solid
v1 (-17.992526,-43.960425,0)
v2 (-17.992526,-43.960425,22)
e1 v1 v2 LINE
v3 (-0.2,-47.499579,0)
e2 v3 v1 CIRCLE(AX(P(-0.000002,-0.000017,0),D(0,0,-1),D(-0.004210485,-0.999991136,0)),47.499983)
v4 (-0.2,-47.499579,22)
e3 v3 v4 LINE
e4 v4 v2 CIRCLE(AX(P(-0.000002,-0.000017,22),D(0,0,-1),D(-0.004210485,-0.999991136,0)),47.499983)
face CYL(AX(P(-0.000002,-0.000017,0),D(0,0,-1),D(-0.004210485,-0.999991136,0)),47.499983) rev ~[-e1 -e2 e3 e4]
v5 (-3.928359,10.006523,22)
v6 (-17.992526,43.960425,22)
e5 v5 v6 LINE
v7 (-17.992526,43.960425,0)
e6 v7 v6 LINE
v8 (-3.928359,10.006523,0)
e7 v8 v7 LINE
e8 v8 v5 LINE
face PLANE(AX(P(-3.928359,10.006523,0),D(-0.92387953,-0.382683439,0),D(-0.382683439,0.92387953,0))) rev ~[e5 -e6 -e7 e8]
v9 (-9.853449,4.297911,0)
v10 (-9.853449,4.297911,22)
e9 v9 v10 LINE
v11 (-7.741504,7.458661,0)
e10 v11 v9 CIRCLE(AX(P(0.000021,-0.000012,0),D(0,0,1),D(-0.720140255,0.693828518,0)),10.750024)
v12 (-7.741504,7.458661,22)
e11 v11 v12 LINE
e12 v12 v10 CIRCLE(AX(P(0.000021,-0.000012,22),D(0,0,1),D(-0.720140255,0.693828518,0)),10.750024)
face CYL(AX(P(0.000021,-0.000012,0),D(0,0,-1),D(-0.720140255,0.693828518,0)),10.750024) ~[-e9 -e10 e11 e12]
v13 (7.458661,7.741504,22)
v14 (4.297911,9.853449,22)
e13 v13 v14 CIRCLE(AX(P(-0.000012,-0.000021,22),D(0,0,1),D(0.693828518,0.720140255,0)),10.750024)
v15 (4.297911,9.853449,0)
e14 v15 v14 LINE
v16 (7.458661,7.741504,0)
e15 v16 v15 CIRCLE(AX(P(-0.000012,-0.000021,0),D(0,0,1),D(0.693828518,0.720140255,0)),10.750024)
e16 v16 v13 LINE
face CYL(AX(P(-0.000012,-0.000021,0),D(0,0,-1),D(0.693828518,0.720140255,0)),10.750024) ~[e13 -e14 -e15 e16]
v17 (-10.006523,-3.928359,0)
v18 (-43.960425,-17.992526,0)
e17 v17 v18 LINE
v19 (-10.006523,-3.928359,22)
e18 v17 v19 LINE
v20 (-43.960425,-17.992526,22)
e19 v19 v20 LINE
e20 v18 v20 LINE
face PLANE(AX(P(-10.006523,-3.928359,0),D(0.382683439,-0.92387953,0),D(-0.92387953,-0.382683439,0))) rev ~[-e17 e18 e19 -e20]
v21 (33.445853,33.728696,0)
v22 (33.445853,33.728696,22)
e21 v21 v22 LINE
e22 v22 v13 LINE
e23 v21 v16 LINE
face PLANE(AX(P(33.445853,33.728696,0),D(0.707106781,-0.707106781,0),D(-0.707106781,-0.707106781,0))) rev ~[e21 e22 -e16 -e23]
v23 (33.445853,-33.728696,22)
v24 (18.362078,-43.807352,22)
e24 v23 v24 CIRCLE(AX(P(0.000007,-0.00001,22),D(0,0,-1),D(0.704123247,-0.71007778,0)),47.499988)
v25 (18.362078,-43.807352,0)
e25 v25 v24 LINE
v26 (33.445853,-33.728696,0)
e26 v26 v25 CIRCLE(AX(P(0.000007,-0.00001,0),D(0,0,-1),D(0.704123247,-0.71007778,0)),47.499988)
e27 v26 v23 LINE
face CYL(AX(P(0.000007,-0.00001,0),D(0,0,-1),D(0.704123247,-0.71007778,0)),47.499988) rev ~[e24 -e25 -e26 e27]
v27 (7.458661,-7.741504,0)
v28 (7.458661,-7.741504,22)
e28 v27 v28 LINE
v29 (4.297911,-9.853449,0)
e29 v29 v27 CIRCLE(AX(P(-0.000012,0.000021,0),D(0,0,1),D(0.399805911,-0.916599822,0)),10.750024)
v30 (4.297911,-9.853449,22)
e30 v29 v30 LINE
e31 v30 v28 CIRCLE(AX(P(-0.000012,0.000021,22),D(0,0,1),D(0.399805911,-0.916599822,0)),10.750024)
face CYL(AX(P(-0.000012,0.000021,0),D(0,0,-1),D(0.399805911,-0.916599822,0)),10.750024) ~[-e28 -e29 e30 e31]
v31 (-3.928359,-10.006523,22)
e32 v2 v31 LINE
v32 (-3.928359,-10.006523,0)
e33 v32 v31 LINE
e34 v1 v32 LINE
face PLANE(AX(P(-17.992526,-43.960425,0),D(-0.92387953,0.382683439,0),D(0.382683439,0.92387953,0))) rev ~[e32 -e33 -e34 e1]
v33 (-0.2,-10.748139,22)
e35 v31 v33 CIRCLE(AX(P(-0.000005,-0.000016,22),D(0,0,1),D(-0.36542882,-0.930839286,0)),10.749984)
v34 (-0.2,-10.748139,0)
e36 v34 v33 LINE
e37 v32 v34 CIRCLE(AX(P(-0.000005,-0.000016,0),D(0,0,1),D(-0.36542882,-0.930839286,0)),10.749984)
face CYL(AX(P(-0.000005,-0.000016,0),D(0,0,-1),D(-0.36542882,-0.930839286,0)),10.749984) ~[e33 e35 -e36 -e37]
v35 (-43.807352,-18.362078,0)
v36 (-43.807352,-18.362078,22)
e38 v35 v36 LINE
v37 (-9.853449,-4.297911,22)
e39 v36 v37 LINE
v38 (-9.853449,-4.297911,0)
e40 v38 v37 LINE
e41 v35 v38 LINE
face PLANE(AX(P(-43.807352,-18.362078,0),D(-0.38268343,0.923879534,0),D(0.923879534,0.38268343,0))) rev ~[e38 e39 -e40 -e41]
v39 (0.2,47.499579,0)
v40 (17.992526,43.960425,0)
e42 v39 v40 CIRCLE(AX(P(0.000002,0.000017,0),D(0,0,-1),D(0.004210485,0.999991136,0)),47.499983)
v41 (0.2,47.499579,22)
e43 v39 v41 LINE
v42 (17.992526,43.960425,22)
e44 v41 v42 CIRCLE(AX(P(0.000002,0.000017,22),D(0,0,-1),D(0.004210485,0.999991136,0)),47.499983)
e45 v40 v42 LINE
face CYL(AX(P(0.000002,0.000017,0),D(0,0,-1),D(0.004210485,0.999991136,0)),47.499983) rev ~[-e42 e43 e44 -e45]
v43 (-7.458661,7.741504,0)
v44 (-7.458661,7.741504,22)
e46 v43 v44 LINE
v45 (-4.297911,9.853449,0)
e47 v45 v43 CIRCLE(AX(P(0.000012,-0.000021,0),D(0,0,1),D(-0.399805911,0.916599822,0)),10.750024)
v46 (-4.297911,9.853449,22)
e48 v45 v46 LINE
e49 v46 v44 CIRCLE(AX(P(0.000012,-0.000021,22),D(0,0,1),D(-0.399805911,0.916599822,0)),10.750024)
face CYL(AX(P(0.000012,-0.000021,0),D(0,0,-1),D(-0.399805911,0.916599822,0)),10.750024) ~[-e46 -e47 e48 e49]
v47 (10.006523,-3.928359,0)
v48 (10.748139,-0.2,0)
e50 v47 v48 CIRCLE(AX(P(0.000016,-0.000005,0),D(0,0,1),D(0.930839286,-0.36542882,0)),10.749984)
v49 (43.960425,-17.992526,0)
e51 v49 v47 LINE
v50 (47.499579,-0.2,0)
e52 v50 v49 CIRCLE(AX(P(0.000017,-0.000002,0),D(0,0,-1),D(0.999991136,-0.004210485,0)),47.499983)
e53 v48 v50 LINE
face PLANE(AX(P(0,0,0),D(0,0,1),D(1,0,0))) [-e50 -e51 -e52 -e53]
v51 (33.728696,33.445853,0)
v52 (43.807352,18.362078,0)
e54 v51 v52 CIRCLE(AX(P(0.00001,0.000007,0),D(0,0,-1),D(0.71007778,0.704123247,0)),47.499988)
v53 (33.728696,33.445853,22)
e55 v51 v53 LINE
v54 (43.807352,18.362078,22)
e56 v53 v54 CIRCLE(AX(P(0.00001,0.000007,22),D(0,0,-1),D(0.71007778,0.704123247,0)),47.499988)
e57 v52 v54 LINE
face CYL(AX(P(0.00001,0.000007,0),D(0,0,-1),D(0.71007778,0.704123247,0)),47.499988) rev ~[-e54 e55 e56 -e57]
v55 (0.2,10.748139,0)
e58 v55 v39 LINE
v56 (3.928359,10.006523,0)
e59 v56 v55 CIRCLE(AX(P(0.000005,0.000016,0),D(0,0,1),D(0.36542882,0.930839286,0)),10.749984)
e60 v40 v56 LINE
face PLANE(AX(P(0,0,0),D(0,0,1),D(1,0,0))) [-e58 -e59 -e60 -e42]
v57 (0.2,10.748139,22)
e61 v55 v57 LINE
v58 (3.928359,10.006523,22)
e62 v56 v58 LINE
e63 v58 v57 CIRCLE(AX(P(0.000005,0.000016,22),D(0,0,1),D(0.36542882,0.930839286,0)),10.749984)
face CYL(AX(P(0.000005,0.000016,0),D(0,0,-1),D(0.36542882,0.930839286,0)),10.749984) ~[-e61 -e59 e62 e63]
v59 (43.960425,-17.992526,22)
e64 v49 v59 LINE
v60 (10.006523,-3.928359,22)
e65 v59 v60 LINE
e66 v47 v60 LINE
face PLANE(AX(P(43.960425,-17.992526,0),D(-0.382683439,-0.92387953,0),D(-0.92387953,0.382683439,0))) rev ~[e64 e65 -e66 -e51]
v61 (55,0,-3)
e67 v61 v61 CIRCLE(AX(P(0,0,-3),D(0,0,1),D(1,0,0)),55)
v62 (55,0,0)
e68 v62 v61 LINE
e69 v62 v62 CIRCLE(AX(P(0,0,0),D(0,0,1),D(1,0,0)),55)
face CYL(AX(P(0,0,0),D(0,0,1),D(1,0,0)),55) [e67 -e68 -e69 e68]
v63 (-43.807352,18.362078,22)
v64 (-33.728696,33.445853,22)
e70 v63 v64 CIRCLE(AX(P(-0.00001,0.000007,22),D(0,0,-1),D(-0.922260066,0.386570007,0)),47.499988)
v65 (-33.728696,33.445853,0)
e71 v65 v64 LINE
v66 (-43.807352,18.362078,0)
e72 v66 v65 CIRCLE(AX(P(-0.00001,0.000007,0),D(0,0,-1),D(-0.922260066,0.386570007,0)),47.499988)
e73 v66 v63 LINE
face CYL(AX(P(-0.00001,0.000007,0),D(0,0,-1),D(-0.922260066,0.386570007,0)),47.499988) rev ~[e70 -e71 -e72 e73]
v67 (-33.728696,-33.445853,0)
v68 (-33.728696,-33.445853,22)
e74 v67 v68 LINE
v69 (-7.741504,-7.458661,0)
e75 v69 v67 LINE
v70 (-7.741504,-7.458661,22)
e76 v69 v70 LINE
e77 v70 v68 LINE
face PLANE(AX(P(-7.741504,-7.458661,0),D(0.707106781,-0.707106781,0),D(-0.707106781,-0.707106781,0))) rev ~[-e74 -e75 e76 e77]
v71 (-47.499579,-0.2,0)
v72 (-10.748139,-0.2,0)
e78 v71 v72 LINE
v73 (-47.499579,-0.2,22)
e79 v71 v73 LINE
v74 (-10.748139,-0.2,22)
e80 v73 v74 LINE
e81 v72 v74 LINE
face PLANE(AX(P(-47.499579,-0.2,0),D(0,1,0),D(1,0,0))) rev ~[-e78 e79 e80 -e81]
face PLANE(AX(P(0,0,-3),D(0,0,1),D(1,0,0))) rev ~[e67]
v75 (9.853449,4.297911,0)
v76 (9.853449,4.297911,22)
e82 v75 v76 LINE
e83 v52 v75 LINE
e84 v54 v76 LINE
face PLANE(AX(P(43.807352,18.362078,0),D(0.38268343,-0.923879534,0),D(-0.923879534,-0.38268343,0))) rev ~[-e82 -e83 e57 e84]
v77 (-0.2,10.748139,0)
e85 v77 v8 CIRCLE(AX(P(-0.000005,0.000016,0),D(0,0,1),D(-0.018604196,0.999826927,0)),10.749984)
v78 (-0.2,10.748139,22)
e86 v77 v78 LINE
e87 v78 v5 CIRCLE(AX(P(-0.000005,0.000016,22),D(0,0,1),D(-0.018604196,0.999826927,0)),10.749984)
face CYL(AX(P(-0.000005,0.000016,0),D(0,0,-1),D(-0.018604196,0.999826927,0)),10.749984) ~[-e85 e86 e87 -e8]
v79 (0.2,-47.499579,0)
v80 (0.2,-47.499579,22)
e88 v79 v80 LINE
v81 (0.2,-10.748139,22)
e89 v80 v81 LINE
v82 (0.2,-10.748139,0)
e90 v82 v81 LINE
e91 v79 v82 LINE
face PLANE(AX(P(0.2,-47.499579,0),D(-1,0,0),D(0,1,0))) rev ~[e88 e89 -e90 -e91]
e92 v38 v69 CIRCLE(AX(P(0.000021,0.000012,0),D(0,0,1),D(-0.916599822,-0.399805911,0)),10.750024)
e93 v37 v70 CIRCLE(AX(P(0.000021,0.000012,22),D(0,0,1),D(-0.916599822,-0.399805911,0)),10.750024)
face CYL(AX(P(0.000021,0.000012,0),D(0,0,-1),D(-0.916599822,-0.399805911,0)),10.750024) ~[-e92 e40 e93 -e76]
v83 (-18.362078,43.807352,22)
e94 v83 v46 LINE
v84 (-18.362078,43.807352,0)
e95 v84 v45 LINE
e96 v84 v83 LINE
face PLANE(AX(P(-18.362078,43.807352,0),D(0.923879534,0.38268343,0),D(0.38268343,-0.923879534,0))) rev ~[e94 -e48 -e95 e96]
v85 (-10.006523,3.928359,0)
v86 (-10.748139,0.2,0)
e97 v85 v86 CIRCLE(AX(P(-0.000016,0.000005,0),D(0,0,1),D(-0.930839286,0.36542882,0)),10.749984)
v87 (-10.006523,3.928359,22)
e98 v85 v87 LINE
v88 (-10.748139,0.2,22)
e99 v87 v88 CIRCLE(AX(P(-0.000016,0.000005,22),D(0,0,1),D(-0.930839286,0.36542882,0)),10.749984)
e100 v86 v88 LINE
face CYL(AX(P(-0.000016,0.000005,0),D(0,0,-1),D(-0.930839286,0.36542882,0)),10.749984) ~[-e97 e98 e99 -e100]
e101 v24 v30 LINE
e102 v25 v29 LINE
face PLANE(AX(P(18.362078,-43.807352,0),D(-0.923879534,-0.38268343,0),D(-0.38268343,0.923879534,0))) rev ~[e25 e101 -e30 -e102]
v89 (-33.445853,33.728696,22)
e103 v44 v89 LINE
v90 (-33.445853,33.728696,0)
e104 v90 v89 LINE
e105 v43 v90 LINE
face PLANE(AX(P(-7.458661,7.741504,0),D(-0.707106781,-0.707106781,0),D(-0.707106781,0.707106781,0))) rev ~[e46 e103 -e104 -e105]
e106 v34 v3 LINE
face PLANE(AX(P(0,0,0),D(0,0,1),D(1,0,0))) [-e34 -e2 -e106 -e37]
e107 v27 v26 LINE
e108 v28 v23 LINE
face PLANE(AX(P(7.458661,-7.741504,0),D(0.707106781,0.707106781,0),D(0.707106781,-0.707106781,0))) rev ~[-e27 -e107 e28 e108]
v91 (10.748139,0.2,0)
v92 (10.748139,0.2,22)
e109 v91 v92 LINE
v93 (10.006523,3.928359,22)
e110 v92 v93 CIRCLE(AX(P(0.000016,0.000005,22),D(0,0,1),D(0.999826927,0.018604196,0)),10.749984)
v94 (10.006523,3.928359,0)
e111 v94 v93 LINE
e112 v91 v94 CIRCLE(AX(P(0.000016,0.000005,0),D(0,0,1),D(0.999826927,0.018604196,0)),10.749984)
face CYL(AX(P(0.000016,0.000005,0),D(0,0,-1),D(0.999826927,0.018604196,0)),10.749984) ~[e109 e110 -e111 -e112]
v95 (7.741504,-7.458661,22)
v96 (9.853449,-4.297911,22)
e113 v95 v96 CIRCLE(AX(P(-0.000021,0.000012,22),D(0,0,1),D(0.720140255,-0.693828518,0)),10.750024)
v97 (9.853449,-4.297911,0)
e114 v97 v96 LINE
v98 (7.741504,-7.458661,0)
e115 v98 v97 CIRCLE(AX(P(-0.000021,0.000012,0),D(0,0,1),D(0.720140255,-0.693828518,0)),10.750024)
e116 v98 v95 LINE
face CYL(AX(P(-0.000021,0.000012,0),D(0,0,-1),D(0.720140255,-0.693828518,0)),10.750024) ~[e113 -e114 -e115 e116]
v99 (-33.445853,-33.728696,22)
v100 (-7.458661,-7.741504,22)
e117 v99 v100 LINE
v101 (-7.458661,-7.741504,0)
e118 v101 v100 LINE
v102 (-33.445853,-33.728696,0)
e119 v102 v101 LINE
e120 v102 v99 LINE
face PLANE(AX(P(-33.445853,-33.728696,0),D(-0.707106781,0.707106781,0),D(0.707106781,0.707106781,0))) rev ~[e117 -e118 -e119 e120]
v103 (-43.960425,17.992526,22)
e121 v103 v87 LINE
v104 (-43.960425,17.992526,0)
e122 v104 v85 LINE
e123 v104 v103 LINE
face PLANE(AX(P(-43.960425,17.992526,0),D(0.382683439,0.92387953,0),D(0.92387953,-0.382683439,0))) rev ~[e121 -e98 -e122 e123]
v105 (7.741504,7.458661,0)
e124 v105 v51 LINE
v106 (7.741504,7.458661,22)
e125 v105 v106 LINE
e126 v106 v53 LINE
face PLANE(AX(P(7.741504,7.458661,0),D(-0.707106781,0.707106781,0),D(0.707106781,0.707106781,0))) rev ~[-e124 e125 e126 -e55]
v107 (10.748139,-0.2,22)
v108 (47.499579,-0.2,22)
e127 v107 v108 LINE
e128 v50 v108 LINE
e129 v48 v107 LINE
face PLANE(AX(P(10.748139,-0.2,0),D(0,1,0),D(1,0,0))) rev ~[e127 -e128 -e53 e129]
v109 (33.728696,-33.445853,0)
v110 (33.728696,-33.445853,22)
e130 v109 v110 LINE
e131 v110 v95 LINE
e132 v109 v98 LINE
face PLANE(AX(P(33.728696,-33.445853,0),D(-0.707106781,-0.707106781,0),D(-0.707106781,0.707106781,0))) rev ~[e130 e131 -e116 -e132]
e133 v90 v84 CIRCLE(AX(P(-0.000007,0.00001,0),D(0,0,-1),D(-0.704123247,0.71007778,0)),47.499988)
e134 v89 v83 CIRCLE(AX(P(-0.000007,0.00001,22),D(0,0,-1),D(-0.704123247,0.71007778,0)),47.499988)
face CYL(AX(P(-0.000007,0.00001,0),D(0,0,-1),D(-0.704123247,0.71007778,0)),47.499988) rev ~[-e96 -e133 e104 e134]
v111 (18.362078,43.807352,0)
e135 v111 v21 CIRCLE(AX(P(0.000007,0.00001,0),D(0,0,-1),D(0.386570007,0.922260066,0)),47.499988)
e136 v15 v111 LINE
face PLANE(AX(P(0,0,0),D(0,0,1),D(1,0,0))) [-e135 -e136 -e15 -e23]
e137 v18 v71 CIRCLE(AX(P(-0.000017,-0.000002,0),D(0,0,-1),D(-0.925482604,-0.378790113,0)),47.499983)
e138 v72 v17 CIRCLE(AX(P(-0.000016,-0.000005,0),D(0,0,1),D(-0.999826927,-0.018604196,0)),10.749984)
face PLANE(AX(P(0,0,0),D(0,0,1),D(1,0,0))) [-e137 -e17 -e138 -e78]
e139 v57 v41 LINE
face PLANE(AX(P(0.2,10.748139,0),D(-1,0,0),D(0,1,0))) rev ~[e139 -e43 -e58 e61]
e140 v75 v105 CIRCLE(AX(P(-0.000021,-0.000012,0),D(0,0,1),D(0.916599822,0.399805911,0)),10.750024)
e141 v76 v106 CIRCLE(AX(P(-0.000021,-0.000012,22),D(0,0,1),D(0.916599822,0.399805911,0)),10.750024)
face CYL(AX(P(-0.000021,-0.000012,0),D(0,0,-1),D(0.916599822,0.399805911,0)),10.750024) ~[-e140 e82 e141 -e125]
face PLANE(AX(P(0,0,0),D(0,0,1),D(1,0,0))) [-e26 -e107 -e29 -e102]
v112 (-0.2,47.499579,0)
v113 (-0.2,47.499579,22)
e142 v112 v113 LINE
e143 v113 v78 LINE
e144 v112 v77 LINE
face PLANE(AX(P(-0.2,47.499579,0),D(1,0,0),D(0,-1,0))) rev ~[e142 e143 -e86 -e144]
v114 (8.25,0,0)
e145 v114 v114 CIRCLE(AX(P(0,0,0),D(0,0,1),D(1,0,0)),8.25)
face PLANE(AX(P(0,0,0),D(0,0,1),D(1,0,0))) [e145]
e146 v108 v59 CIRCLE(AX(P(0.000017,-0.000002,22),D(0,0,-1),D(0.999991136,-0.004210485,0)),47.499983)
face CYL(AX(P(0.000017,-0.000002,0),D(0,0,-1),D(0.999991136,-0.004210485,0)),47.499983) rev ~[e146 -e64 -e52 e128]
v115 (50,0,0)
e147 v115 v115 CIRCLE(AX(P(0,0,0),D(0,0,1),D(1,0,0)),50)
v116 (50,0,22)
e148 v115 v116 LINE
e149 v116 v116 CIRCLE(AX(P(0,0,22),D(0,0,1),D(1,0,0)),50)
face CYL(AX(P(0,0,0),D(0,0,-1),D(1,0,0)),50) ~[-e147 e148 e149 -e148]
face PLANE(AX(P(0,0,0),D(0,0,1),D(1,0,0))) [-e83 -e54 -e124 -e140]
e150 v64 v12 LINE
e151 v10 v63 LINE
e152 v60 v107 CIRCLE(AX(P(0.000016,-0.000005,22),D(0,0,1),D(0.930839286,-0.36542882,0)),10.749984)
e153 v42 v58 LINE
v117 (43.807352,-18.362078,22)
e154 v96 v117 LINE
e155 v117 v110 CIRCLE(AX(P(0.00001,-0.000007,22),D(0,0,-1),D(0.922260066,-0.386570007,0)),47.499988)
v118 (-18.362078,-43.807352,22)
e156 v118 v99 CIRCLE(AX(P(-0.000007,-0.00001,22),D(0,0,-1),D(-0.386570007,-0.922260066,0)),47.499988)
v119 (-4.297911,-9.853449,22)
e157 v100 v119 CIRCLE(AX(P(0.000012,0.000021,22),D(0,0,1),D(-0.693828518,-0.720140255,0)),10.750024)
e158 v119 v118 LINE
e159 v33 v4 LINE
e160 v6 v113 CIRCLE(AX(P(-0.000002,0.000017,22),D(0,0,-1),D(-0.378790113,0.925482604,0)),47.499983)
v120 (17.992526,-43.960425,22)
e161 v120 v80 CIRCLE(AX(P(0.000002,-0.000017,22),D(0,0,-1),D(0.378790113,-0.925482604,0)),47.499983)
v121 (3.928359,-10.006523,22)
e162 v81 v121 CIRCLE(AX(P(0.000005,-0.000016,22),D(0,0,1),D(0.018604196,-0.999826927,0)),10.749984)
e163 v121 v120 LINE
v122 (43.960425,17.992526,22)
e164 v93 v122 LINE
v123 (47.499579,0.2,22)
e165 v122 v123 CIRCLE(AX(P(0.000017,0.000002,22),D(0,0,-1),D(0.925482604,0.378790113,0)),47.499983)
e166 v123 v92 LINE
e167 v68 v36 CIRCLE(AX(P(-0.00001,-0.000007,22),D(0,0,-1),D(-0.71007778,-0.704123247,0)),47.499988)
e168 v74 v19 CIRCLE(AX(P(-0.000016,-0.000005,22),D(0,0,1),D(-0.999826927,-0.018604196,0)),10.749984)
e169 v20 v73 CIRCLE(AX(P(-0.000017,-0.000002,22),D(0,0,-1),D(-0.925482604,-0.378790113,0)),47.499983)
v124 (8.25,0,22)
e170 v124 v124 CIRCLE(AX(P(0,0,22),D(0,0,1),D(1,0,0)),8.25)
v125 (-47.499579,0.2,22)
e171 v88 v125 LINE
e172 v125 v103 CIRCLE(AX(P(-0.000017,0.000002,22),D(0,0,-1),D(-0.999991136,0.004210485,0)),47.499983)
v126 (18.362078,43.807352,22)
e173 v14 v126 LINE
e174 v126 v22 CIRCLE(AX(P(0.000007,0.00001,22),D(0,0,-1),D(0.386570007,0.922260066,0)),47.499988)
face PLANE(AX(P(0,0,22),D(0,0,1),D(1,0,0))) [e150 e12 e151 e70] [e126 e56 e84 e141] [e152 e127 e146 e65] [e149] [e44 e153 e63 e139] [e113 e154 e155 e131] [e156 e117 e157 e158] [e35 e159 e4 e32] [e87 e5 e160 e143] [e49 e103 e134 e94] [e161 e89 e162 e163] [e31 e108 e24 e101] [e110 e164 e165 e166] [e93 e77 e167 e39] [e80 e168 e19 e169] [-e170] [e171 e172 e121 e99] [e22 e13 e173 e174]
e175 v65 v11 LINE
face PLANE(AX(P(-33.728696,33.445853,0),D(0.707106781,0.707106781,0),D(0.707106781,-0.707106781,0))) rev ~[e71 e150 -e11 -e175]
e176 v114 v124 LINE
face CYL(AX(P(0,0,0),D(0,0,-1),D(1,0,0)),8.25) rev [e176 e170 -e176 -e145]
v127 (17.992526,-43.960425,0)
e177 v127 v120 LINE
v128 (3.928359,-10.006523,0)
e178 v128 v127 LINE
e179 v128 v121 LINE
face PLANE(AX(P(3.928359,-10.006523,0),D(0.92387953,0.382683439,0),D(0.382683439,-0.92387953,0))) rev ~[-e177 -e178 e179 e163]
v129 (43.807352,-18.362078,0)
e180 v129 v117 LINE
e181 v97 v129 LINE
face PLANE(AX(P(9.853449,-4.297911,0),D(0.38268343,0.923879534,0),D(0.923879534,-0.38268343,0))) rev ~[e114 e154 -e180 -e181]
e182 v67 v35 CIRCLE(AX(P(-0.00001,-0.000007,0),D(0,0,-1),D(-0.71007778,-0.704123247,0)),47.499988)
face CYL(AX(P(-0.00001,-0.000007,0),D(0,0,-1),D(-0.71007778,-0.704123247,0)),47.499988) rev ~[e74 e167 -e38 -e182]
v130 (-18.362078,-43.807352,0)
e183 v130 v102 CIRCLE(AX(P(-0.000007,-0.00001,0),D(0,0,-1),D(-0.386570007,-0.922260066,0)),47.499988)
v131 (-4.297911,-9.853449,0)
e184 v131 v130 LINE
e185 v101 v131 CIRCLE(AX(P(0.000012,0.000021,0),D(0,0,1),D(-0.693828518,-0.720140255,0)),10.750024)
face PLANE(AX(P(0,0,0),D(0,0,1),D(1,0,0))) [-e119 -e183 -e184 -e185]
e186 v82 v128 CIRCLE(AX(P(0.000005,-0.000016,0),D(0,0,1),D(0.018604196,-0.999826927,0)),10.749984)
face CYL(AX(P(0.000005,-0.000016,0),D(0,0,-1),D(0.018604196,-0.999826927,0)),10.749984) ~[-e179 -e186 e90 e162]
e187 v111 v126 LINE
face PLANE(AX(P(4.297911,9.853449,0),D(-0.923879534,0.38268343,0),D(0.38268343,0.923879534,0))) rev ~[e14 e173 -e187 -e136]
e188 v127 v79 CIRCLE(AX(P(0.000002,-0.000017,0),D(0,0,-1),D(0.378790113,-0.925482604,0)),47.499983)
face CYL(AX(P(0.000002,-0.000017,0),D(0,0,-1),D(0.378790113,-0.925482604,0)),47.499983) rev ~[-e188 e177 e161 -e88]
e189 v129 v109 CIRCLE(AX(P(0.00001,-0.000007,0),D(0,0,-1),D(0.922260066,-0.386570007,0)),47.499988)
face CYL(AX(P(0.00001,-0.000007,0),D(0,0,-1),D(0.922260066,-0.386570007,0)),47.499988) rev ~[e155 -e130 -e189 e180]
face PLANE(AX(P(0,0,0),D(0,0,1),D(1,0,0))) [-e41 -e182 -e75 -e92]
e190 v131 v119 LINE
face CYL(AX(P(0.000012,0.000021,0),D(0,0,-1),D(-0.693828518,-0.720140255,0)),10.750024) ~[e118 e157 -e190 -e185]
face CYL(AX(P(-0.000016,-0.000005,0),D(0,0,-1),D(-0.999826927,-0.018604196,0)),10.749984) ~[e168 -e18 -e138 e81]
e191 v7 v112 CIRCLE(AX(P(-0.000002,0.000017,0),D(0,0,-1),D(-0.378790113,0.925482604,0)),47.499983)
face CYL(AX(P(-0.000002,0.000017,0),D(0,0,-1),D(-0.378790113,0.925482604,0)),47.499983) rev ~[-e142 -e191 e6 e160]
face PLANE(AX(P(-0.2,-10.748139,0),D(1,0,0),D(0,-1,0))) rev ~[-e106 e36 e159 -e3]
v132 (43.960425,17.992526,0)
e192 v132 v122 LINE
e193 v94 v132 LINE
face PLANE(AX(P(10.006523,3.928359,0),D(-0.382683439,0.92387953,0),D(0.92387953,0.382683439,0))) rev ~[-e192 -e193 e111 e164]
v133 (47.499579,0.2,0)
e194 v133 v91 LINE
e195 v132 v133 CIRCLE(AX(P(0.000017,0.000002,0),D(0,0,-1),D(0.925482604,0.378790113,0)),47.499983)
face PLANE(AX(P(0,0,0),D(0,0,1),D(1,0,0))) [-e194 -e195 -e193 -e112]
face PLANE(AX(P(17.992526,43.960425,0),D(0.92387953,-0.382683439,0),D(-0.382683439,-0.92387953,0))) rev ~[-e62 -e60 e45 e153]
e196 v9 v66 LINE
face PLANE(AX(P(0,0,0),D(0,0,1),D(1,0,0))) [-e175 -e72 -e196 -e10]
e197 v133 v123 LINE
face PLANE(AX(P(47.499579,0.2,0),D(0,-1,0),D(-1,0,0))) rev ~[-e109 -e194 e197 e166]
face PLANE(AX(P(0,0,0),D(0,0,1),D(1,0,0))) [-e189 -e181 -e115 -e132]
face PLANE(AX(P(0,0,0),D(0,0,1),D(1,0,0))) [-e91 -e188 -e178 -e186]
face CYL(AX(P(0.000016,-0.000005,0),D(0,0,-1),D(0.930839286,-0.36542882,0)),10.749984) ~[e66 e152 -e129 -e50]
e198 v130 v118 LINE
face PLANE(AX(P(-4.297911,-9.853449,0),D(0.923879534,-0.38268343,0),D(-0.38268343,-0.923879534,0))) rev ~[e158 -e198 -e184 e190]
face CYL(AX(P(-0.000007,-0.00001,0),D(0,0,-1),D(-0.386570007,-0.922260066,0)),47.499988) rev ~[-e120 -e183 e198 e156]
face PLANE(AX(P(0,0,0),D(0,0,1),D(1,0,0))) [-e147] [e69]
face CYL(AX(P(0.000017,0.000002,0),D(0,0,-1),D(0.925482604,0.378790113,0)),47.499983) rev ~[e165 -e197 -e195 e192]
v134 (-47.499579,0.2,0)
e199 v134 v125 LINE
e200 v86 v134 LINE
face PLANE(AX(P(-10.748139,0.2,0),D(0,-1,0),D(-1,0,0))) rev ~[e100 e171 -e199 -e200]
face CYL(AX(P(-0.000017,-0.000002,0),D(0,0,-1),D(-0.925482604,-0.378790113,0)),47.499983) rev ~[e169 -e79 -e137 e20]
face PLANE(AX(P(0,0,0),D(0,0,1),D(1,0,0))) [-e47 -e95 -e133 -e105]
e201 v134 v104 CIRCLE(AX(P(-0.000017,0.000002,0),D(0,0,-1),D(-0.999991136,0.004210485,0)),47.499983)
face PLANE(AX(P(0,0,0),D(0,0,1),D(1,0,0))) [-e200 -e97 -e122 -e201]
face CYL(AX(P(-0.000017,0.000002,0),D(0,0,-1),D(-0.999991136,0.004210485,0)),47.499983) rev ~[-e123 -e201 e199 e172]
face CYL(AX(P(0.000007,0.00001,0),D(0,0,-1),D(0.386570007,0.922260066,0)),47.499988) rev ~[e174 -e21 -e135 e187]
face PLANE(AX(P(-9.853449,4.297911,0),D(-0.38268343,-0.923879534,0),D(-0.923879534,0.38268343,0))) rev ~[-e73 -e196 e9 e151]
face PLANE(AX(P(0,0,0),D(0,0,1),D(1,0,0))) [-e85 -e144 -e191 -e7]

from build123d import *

# Parameters (mm, degrees)
F0_R     = 50
F0_R_2   = 8.25
F1_DEPTH = 22
F2_R     = 55
F3_DEPTH = 3


with BuildPart() as f1:
    # F0 (on Top) → F1 (new body)
    with BuildSketch(Plane.XY):
        Circle(F0_R)
        with BuildLine():
            Line((-33.445853, -33.728696), (-7.458661, -7.741504))
            ThreePointArc((-7.458661, -7.741504), (-5.97238, -8.938298), (-4.297911, -9.853449))
            Line((-4.297911, -9.853449), (-18.362078, -43.807352))
            ThreePointArc((-18.362078, -43.807352), (-26.389586, -39.494807), (-33.445853, -33.728696))
        make_face(mode=Mode.SUBTRACT)
        with BuildLine():
            ThreePointArc((-3.928359, -10.006523), (-2.097221, -10.543442), (-0.2, -10.748139))
            Line((-0.2, -10.748139), (-0.2, -47.499579))
            ThreePointArc((-0.2, -47.499579), (-9.26679, -46.587301), (-17.992526, -43.960425))
            Line((-17.992526, -43.960425), (-3.928359, -10.006523))
        make_face(mode=Mode.SUBTRACT)
        with BuildLine():
            ThreePointArc((-9.853449, -4.297911), (-8.938298, -5.97238), (-7.741504, -7.458661))
            Line((-7.741504, -7.458661), (-33.728696, -33.445853))
            ThreePointArc((-33.728696, -33.445853), (-39.494807, -26.389586), (-43.807352, -18.362078))
            Line((-43.807352, -18.362078), (-9.853449, -4.297911))
        make_face(mode=Mode.SUBTRACT)
        with BuildLine():
            Line((-47.499579, -0.2), (-10.748139, -0.2))
            ThreePointArc((-10.748139, -0.2), (-10.543442, -2.097221), (-10.006523, -3.928359))
            Line((-10.006523, -3.928359), (-43.960425, -17.992526))
            ThreePointArc((-43.960425, -17.992526), (-46.587301, -9.26679), (-47.499579, -0.2))
        make_face(mode=Mode.SUBTRACT)
        with BuildLine():
            Line((0.2, -47.499579), (0.2, -10.748139))
            ThreePointArc((0.2, -10.748139), (2.097221, -10.543442), (3.928359, -10.006523))
            Line((3.928359, -10.006523), (17.992526, -43.960425))
            ThreePointArc((17.992526, -43.960425), (9.26679, -46.587301), (0.2, -47.499579))
        make_face(mode=Mode.SUBTRACT)
        with BuildLine():
            ThreePointArc((4.297911, -9.853449), (5.97238, -8.938298), (7.458661, -7.741504))
            Line((7.458661, -7.741504), (33.445853, -33.728696))
            ThreePointArc((33.445853, -33.728696), (26.389586, -39.494807), (18.362078, -43.807352))
            Line((18.362078, -43.807352), (4.297911, -9.853449))
        make_face(mode=Mode.SUBTRACT)
        with BuildLine():
            Line((33.728696, -33.445853), (7.741504, -7.458661))
            ThreePointArc((7.741504, -7.458661), (8.938298, -5.97238), (9.853449, -4.297911))
            Line((9.853449, -4.297911), (43.807352, -18.362078))
            ThreePointArc((43.807352, -18.362078), (39.494807, -26.389586), (33.728696, -33.445853))
        make_face(mode=Mode.SUBTRACT)
        with BuildLine():
            ThreePointArc((10.006523, -3.928359), (10.543442, -2.097221), (10.748139, -0.2))
            Line((10.748139, -0.2), (47.499579, -0.2))
            ThreePointArc((47.499579, -0.2), (46.587301, -9.26679), (43.960425, -17.992526))
            Line((43.960425, -17.992526), (10.006523, -3.928359))
        make_face(mode=Mode.SUBTRACT)
        with BuildLine():
            ThreePointArc((-10.006523, 3.928359), (-10.543442, 2.097221), (-10.748139, 0.2))
            Line((-10.748139, 0.2), (-47.499579, 0.2))
            ThreePointArc((-47.499579, 0.2), (-46.587301, 9.26679), (-43.960425, 17.992526))
            Line((-43.960425, 17.992526), (-10.006523, 3.928359))
        make_face(mode=Mode.SUBTRACT)
        with BuildLine():
            Line((-33.728696, 33.445853), (-7.741504, 7.458661))
            ThreePointArc((-7.741504, 7.458661), (-8.938298, 5.97238), (-9.853449, 4.297911))
            Line((-9.853449, 4.297911), (-43.807352, 18.362078))
            ThreePointArc((-43.807352, 18.362078), (-39.494807, 26.389586), (-33.728696, 33.445853))
        make_face(mode=Mode.SUBTRACT)
        with BuildLine():
            ThreePointArc((-4.297911, 9.853449), (-5.97238, 8.938298), (-7.458661, 7.741504))
            Line((-7.458661, 7.741504), (-33.445853, 33.728696))
            ThreePointArc((-33.445853, 33.728696), (-26.389586, 39.494807), (-18.362078, 43.807352))
            Line((-18.362078, 43.807352), (-4.297911, 9.853449))
        make_face(mode=Mode.SUBTRACT)
        with BuildLine():
            ThreePointArc((-17.992526, 43.960425), (-9.26679, 46.587301), (-0.2, 47.499579))
            Line((-0.2, 47.499579), (-0.2, 10.748139))
            ThreePointArc((-0.2, 10.748139), (-2.097221, 10.543442), (-3.928359, 10.006523))
            Line((-3.928359, 10.006523), (-17.992526, 43.960425))
        make_face(mode=Mode.SUBTRACT)
        Circle(F0_R_2, mode=Mode.SUBTRACT)
        with BuildLine():
            Line((47.499579, 0.2), (10.748139, 0.2))
            ThreePointArc((10.748139, 0.2), (10.543442, 2.097221), (10.006523, 3.928359))
            Line((10.006523, 3.928359), (43.960425, 17.992526))
            ThreePointArc((43.960425, 17.992526), (46.587301, 9.26679), (47.499579, 0.2))
        make_face(mode=Mode.SUBTRACT)
        with BuildLine():
            ThreePointArc((9.853449, 4.297911), (8.938298, 5.97238), (7.741504, 7.458661))
            Line((7.741504, 7.458661), (33.728696, 33.445853))
            ThreePointArc((33.728696, 33.445853), (39.494807, 26.389586), (43.807352, 18.362078))
            Line((43.807352, 18.362078), (9.853449, 4.297911))
        make_face(mode=Mode.SUBTRACT)
        with BuildLine():
            ThreePointArc((3.928359, 10.006523), (2.097221, 10.543442), (0.2, 10.748139))
            Line((0.2, 10.748139), (0.2, 47.499579))
            ThreePointArc((0.2, 47.499579), (9.26679, 46.587301), (17.992526, 43.960425))
            Line((17.992526, 43.960425), (3.928359, 10.006523))
        make_face(mode=Mode.SUBTRACT)
        with BuildLine():
            Line((33.445853, 33.728696), (7.458661, 7.741504))
            ThreePointArc((7.458661, 7.741504), (5.97238, 8.938298), (4.297911, 9.853449))
            Line((4.297911, 9.853449), (18.362078, 43.807352))
            ThreePointArc((18.362078, 43.807352), (26.389586, 39.494807), (33.445853, 33.728696))
        make_face(mode=Mode.SUBTRACT)
    extrude(amount=F1_DEPTH)

    # F2 (on Top) → F3 (join)
    with BuildSketch(Plane.XY):
        Circle(F2_R)
    extrude(amount=-F3_DEPTH)


solid = f1.part
